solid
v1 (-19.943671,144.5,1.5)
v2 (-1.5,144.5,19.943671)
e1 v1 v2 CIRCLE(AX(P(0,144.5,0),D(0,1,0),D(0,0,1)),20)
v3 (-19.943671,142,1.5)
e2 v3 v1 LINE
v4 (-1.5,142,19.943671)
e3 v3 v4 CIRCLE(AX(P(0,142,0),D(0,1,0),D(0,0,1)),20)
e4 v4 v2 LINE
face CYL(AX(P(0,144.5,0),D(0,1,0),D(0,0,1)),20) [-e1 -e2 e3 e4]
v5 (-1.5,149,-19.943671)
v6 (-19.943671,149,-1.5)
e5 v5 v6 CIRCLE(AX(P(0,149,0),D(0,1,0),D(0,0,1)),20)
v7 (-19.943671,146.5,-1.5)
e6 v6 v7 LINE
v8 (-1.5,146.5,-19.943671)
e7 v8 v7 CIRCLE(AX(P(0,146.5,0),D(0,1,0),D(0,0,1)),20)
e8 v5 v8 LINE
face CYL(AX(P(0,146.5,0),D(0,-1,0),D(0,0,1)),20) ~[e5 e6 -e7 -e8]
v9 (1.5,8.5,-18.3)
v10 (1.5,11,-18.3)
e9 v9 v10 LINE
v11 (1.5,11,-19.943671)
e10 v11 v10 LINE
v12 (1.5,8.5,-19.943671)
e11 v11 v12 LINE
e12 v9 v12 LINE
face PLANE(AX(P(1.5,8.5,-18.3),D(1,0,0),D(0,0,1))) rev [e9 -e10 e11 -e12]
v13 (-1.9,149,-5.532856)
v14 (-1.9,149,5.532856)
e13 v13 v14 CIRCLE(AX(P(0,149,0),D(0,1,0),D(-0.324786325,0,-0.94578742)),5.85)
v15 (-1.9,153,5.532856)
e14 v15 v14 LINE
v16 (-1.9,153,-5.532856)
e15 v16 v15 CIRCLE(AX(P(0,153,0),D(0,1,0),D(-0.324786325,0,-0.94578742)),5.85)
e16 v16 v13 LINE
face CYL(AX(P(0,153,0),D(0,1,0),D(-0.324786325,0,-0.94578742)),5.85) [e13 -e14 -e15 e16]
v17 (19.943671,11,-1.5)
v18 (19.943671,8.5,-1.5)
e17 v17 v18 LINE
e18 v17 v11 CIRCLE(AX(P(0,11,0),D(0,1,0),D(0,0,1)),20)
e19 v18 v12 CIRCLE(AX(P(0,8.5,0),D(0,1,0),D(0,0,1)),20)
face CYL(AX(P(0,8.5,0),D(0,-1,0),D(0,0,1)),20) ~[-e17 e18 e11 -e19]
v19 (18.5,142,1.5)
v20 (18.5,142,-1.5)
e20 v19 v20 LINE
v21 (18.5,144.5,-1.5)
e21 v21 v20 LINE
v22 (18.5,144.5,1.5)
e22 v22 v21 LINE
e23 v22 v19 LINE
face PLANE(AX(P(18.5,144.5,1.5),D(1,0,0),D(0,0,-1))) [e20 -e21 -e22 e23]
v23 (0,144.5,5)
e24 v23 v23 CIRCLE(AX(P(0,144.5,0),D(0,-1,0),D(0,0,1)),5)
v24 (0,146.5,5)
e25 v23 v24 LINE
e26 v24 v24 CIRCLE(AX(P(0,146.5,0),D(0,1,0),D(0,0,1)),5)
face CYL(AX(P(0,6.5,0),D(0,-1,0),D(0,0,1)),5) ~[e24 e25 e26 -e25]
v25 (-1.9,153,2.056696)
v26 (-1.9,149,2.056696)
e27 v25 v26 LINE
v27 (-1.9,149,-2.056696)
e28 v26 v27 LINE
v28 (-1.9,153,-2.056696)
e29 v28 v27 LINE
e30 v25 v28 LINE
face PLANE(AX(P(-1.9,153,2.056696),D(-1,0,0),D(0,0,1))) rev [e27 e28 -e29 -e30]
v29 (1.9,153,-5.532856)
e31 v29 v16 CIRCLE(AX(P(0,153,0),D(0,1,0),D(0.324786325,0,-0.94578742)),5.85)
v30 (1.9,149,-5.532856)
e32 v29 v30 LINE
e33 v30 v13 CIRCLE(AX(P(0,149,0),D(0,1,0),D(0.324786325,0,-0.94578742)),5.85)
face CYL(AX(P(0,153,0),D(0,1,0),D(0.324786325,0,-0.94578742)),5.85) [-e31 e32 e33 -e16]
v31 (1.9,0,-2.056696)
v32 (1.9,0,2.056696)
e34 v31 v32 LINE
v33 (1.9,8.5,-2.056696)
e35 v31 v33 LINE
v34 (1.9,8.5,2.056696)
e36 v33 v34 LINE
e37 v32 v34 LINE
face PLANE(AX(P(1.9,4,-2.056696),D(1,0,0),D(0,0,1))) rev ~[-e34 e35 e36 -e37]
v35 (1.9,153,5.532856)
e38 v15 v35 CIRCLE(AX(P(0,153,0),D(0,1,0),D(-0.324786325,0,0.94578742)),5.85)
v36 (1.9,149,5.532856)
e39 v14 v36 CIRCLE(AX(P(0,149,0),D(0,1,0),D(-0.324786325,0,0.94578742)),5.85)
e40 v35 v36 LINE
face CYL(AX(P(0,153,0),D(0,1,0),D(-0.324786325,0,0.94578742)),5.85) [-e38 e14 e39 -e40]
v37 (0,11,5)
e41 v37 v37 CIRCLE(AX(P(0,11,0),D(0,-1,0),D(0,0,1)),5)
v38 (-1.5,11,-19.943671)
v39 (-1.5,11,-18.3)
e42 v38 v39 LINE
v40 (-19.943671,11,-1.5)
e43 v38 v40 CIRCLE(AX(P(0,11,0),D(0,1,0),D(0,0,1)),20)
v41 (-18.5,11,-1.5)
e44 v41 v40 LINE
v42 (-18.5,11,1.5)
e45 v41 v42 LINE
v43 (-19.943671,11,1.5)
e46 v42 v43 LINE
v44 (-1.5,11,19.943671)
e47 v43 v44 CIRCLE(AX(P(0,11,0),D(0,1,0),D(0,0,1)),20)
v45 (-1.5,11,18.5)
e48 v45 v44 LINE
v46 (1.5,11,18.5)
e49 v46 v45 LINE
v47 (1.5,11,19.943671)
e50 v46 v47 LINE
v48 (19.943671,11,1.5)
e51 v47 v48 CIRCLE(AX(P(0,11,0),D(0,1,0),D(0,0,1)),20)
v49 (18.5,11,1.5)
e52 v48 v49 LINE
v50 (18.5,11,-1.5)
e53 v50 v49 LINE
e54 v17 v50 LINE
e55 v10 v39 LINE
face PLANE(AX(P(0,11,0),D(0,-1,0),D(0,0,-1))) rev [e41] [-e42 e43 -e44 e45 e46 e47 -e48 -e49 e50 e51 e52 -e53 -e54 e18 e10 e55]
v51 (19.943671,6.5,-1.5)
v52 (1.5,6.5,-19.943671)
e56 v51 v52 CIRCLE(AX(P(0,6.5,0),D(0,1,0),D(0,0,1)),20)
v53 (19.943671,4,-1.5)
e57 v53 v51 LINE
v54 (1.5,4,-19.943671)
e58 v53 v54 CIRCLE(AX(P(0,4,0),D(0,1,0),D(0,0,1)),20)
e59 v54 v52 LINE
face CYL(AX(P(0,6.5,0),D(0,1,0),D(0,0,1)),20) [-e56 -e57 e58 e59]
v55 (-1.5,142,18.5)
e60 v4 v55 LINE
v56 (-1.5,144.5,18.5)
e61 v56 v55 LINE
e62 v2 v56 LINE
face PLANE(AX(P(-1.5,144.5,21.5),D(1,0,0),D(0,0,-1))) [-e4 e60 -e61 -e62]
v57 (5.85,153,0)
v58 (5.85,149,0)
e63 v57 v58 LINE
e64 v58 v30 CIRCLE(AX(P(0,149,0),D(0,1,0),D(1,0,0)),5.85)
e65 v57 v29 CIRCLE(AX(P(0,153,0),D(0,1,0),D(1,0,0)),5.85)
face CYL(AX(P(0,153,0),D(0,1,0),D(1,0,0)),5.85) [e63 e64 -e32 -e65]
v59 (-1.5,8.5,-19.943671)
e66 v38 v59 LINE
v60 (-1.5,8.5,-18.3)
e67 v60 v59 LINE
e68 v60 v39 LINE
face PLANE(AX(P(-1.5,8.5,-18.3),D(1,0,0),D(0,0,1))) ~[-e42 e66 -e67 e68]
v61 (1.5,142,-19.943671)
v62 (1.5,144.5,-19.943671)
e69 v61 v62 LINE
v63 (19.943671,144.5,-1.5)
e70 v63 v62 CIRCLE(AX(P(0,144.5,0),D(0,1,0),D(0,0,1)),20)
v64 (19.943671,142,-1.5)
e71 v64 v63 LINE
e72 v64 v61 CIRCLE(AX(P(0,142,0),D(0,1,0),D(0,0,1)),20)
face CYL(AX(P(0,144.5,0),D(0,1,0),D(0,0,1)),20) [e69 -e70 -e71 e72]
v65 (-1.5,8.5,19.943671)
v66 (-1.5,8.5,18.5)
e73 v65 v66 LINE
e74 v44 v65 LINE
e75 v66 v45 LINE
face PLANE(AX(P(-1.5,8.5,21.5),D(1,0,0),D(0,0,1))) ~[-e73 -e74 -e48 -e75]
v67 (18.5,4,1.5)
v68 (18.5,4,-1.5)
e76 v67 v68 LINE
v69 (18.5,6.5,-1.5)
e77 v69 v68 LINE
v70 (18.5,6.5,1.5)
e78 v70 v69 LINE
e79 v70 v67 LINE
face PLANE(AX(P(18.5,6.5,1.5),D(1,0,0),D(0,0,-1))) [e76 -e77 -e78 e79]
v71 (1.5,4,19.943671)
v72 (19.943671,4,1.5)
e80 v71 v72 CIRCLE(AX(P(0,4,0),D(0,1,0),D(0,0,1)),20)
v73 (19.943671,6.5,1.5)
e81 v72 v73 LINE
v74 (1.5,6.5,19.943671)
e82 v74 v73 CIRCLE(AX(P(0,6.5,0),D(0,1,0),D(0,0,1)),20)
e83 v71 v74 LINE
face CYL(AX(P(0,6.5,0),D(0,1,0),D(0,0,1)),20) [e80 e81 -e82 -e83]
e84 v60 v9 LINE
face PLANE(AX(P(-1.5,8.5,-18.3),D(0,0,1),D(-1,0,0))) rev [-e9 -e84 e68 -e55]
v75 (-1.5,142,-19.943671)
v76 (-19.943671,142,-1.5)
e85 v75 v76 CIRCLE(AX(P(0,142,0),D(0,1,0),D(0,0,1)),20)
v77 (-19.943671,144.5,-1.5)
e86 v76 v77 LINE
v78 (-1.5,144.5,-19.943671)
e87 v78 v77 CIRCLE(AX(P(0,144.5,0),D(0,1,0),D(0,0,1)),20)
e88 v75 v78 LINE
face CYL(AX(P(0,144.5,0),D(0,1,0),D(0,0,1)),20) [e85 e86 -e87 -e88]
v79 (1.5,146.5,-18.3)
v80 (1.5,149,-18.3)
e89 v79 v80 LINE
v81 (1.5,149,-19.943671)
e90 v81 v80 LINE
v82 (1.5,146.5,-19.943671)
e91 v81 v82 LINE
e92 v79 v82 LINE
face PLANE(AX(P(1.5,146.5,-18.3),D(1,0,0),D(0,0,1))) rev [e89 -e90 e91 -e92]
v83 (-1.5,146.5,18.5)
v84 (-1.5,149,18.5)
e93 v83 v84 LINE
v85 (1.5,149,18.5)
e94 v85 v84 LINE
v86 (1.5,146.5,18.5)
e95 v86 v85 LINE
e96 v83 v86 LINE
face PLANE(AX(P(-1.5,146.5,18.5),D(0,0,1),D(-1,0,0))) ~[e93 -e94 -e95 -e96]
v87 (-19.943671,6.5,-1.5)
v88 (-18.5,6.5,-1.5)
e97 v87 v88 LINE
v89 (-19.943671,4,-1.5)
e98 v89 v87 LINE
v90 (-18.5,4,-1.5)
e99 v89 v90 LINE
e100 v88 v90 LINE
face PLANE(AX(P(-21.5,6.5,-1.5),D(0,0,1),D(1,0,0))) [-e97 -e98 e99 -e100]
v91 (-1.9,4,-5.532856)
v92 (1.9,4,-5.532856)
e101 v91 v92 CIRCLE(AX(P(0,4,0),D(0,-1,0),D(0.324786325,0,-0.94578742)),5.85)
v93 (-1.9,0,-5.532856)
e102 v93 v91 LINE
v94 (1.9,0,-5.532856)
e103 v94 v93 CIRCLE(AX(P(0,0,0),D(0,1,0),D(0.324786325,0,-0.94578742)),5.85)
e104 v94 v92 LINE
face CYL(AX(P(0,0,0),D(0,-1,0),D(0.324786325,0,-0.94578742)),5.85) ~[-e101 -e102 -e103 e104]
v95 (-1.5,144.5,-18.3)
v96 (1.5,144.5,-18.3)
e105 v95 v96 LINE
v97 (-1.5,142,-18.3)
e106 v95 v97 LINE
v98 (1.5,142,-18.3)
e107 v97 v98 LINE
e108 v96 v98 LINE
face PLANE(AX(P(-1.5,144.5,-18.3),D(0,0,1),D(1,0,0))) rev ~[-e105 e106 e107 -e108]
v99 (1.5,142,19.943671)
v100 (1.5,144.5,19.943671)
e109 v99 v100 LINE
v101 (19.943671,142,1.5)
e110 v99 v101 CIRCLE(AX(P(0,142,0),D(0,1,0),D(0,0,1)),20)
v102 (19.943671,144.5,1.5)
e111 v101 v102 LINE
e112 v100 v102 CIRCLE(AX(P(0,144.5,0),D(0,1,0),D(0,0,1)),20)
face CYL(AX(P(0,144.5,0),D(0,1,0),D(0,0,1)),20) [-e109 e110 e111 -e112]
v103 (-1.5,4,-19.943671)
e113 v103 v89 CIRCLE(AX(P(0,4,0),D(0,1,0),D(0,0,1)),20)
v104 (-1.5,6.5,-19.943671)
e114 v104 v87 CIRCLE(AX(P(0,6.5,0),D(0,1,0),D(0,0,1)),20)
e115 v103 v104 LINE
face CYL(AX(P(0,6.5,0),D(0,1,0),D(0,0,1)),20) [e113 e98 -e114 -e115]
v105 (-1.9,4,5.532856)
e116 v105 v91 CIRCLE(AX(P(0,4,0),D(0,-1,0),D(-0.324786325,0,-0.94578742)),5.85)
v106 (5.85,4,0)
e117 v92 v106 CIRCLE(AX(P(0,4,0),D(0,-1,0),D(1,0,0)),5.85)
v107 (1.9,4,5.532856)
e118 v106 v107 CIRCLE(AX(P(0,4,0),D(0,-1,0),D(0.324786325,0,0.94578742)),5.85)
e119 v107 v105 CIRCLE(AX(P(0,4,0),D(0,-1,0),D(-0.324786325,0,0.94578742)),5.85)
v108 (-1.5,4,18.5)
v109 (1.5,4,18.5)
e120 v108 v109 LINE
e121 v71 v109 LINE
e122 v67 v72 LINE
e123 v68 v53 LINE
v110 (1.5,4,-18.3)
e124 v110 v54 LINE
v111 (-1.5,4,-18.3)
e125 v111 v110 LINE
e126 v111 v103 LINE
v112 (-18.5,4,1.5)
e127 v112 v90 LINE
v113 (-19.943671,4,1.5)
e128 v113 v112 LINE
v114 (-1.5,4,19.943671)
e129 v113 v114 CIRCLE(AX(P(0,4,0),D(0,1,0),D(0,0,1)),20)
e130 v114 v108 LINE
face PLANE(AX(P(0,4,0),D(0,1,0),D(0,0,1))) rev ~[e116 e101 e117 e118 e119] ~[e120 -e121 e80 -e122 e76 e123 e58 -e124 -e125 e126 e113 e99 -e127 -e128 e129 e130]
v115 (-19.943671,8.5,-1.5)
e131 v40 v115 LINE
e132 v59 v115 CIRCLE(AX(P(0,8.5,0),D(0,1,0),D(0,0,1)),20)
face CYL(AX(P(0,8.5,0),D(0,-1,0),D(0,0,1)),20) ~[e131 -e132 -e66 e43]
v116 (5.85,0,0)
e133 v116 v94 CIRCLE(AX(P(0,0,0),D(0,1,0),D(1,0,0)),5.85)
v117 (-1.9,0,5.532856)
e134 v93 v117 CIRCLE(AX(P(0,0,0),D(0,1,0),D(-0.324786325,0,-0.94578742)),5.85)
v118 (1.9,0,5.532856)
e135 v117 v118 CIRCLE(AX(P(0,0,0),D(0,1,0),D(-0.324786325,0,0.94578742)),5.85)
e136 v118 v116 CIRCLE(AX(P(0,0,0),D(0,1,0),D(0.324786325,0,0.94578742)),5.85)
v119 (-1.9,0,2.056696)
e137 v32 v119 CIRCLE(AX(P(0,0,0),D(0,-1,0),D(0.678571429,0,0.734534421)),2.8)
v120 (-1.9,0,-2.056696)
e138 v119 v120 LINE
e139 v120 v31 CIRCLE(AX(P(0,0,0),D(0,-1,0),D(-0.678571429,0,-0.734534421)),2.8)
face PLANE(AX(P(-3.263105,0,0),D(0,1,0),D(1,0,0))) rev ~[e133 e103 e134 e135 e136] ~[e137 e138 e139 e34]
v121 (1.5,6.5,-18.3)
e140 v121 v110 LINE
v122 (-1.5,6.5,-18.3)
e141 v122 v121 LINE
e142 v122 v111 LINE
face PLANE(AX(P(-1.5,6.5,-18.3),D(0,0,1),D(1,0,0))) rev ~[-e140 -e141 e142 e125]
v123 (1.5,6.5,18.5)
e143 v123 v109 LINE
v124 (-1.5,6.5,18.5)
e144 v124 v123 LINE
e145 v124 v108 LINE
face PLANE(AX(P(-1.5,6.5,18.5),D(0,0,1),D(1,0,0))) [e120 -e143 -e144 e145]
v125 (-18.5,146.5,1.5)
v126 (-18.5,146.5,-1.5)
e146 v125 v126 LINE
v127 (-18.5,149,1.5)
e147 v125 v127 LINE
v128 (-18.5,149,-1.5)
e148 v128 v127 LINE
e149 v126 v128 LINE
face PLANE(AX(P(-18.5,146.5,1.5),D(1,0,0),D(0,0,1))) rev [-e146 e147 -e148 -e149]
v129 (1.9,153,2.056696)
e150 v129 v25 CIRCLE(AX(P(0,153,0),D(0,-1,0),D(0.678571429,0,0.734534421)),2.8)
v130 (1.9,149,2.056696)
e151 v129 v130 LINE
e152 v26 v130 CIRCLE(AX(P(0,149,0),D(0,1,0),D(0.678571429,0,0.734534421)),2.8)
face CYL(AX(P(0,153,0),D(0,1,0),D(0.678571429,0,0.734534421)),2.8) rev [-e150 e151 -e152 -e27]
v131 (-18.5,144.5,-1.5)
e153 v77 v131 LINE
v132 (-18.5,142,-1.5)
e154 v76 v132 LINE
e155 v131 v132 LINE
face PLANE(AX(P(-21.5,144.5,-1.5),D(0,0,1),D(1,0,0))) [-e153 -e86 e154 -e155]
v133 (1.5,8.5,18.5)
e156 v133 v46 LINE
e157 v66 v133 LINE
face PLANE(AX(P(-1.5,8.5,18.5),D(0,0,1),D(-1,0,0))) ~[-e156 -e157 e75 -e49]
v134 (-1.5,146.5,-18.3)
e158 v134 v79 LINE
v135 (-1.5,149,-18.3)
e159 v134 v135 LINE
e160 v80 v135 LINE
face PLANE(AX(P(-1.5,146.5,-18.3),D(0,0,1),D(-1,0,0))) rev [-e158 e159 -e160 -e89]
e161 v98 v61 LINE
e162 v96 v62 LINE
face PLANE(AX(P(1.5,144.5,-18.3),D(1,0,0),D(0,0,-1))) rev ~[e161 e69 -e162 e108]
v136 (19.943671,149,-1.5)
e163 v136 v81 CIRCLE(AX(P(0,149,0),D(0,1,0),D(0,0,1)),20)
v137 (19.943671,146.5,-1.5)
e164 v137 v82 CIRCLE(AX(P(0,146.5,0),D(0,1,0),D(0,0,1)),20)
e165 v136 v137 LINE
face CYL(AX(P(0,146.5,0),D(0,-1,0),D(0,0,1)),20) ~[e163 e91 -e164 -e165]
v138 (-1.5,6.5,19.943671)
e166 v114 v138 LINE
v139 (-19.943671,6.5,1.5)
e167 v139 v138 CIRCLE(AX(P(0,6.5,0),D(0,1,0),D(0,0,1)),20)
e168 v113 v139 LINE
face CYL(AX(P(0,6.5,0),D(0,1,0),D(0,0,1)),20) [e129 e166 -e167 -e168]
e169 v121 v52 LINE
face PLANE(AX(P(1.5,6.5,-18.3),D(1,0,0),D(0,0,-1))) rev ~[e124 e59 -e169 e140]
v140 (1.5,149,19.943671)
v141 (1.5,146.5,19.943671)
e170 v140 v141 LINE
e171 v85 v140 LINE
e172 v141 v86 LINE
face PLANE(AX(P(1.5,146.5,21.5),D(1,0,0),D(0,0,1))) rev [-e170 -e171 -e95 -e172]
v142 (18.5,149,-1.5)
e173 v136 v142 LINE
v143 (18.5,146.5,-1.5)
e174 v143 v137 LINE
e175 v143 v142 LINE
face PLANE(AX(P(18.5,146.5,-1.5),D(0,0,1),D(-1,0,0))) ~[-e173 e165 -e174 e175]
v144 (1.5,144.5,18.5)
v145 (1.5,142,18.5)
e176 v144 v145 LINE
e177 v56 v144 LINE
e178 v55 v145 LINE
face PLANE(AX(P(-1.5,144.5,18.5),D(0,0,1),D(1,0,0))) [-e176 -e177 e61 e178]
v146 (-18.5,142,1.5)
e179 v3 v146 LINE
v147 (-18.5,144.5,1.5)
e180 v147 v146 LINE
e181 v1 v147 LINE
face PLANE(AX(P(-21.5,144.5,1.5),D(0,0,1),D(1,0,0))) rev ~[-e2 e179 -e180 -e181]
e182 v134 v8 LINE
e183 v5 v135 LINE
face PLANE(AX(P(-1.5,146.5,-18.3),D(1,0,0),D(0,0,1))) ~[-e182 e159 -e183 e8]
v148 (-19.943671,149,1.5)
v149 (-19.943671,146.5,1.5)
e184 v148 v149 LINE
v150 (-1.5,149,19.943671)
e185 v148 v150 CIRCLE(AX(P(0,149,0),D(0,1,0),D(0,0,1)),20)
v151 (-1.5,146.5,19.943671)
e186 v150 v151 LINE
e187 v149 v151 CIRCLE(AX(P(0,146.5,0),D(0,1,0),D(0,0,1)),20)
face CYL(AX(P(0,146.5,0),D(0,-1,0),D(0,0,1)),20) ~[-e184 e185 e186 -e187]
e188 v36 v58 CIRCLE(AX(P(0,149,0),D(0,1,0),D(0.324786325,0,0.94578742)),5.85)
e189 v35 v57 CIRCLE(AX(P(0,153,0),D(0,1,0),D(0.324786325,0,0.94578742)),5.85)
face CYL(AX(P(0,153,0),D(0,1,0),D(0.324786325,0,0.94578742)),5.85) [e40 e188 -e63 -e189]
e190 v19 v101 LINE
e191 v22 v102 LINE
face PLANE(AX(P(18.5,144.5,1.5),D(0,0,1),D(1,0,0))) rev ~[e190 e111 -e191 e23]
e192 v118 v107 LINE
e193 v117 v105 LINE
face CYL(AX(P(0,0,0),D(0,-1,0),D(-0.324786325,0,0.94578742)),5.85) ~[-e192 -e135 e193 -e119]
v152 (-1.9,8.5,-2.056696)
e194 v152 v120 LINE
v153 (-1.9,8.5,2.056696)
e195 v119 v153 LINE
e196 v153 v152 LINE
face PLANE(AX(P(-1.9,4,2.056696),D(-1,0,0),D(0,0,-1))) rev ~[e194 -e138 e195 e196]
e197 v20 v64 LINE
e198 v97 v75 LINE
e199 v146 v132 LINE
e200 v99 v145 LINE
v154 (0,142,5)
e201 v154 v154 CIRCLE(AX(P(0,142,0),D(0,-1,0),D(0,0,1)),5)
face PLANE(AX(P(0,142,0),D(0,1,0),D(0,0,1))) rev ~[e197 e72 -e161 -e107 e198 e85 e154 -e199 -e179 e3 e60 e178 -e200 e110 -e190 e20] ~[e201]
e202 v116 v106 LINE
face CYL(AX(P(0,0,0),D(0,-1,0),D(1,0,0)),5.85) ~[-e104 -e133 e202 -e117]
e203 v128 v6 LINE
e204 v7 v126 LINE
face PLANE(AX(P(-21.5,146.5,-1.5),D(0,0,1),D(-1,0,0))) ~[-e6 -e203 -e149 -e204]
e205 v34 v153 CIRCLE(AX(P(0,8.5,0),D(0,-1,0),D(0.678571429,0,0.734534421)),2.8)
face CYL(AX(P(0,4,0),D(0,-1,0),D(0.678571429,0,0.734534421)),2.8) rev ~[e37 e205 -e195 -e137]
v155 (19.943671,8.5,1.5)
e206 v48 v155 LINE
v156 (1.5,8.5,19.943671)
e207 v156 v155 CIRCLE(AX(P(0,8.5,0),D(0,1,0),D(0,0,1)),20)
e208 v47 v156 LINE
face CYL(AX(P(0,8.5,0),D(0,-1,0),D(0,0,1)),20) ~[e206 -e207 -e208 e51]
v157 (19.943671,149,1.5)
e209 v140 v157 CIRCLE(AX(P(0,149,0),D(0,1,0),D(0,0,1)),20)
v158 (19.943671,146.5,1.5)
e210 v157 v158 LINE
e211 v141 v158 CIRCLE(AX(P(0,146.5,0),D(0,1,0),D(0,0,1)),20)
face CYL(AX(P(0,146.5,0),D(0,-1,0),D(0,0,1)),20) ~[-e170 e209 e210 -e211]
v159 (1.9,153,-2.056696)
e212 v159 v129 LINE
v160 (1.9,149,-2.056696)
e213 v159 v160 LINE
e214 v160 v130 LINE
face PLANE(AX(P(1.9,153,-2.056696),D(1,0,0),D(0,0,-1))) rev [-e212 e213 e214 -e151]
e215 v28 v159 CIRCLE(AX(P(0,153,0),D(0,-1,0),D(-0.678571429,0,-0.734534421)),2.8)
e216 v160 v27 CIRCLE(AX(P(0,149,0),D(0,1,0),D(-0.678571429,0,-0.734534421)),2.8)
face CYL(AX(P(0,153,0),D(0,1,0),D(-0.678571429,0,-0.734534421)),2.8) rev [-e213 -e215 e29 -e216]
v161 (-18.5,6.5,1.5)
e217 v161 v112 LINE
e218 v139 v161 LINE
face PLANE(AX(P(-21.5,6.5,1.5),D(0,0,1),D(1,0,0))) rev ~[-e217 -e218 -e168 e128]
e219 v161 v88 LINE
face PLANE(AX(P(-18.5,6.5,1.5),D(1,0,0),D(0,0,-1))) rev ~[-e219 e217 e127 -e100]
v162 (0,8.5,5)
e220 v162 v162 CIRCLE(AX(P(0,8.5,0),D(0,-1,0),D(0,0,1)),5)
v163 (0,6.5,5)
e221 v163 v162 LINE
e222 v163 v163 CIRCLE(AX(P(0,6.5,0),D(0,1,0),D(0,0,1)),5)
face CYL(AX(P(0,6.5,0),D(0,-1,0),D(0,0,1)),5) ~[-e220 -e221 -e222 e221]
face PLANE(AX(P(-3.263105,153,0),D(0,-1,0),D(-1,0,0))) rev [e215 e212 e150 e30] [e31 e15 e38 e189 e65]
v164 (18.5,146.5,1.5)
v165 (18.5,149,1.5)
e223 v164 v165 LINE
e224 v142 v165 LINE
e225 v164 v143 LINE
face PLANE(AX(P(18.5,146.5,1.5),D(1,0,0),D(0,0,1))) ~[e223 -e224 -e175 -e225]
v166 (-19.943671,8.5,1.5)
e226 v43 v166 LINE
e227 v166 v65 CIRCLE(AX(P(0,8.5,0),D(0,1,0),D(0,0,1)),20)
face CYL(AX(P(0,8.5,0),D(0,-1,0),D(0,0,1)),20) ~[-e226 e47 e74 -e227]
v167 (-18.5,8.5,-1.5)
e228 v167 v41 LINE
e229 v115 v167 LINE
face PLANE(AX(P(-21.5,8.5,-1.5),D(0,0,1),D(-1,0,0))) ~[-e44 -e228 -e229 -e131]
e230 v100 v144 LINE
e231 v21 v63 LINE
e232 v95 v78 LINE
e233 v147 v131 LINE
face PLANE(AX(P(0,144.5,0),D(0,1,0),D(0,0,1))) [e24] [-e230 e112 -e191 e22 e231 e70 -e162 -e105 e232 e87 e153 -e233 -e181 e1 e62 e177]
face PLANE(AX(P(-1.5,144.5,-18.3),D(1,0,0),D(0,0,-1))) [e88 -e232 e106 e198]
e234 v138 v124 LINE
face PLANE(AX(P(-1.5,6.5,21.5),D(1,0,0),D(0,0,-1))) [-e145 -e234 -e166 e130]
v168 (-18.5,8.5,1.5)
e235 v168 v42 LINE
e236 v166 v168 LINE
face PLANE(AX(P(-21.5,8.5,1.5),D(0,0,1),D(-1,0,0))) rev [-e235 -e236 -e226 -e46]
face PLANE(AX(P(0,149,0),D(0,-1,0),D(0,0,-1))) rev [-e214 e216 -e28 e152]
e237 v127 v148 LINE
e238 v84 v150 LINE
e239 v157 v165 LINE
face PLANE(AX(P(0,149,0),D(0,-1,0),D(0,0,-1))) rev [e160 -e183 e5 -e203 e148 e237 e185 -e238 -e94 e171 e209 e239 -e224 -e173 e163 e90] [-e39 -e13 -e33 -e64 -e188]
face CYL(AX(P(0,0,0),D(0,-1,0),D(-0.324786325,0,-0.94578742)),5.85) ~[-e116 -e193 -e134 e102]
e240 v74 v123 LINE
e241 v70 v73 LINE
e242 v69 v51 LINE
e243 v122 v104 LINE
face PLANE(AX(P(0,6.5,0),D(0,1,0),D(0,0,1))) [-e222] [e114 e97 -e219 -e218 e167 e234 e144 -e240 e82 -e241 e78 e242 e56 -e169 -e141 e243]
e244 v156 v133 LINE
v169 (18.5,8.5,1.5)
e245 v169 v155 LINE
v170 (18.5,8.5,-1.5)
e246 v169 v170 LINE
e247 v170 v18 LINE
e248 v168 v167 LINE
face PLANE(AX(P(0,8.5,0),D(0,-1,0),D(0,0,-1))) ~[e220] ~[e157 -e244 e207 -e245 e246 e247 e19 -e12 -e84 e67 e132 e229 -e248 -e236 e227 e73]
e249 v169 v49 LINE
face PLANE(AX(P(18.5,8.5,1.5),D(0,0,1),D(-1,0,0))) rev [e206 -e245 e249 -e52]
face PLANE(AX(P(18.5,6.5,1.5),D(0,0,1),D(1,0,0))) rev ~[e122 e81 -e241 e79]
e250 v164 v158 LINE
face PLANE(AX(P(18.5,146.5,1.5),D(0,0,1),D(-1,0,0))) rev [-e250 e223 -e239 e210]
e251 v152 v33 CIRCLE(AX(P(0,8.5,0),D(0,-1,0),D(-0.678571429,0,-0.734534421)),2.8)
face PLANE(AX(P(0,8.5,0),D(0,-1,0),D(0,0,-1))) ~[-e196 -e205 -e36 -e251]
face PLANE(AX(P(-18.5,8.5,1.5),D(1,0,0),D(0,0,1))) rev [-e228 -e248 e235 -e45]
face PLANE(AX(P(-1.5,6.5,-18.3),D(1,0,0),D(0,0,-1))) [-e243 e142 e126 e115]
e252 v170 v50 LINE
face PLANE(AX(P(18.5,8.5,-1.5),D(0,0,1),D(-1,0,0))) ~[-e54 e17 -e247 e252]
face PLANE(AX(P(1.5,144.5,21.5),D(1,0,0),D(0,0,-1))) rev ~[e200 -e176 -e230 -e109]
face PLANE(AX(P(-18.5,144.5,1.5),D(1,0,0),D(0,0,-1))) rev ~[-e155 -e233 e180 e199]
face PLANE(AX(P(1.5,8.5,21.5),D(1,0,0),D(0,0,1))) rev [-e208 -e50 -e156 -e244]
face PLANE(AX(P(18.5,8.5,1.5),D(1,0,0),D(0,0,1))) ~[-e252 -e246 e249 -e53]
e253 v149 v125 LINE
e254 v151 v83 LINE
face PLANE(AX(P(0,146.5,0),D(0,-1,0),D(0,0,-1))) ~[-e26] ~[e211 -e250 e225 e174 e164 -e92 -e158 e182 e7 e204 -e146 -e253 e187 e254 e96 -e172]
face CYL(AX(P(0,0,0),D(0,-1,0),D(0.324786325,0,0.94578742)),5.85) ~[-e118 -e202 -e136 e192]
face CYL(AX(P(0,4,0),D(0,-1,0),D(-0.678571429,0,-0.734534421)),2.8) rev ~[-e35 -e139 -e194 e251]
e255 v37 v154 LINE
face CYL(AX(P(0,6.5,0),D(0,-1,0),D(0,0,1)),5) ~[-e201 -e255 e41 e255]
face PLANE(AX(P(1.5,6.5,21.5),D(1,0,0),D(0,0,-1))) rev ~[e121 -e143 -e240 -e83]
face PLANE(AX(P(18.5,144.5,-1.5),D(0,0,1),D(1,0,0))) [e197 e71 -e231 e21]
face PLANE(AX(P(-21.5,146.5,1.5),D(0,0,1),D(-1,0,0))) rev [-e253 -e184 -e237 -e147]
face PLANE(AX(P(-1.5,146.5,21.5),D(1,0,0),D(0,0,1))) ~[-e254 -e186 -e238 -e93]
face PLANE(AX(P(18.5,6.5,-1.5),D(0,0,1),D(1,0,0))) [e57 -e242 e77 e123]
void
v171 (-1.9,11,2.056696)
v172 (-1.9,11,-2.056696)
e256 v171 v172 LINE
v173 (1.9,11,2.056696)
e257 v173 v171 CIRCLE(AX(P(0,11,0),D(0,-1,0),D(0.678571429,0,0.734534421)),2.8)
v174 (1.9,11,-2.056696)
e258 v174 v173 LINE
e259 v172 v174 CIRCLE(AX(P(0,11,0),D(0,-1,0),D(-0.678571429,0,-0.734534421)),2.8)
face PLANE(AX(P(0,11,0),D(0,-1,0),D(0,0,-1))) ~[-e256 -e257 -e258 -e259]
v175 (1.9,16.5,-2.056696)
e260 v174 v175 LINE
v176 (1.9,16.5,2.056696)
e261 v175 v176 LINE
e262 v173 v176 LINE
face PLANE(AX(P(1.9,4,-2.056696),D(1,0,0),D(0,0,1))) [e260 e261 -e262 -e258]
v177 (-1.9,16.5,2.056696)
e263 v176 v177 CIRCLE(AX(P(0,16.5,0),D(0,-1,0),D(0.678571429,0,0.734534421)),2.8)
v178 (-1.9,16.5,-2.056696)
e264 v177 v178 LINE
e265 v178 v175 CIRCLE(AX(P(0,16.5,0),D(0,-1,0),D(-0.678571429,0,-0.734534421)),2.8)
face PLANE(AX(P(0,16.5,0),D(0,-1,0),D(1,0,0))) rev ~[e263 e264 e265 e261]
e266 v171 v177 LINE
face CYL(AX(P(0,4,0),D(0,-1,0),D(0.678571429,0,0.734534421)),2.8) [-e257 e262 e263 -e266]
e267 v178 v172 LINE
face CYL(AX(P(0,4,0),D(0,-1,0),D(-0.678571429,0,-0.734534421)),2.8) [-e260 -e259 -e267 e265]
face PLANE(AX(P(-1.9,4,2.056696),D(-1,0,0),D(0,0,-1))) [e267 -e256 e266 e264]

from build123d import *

# Parameters (mm, degrees)
BOSS_EXTRUDE1_DEPTH     = 6.5
SKETCH2_R               = 20
BOSS_EXTRUDE2_DEPTH     = 2.5
CUT_EXTRUDE1_DEPTH      = 8
SKETCH4_W               = 3
SKETCH4_H               = 3
CUT_EXTRUDE2_DEPTH      = 10
SKETCH5_R               = 5
BOSS_EXTRUDE3_DEPTH     = 140
CUT_EXTRUDE3_DEPTH      = 10
MIRROR5_COPY_1_SKETCH_R = 20
MIRROR5_COPY_1_DEPTH    = 2.5
MIRROR5_COPY_2_SKETCH_W = 3
MIRROR5_COPY_2_SKETCH_H = 3
MIRROR5_COPY_2_DEPTH    = 10


with BuildPart() as part:
    # Sketch1 → Boss-Extrude1 (new body)
    with BuildSketch(Plane(origin=(0, 0, 0), x_dir=(1, 0, 0), z_dir=(0, 1, 0))):
        with BuildLine():
            ThreePointArc((-1.9, -2.05669638), (-2.8, 0), (-1.9, 2.05669638))
            Line((-1.9, 2.05669638), (-1.9, 5.532856405))
            ThreePointArc((-1.9, 5.532856405), (-5.85, 0), (-1.9, -5.532856405))
            Line((-1.9, -5.532856405), (-1.9, -2.05669638))
        make_face()
        with BuildLine():
            ThreePointArc((-1.9, 2.05669638), (0, 2.8), (1.9, 2.05669638))
            Line((1.9, 2.05669638), (1.9, 5.532856405))
            ThreePointArc((1.9, 5.532856405), (0, 5.85), (-1.9, 5.532856405))
            Line((-1.9, 5.532856405), (-1.9, 2.05669638))
        make_face()
        with BuildLine():
            Line((1.9, 5.532856405), (1.9, 2.05669638))
            ThreePointArc((1.9, 2.05669638), (2.565151068, 1.122497216), (2.8, 0))
            ThreePointArc((2.8, 0), (2.565151068, -1.122497216), (1.9, -2.05669638))
            Line((1.9, -2.05669638), (1.9, -5.532856405))
            ThreePointArc((1.9, -5.532856405), (4.761171074, -3.399080758), (5.85, 0))
            ThreePointArc((5.85, 0), (4.761171074, 3.399080758), (1.9, 5.532856405))
        make_face()
        with BuildLine():
            Line((1.9, -5.532856405), (1.9, -2.05669638))
            ThreePointArc((1.9, -2.05669638), (0, -2.8), (-1.9, -2.05669638))
            Line((-1.9, -2.05669638), (-1.9, -5.532856405))
            ThreePointArc((-1.9, -5.532856405), (0, -5.85), (1.9, -5.532856405))
        make_face()
        with BuildLine():
            Line((-1.9, -2.05669638), (-1.9, 2.05669638))
            ThreePointArc((-1.9, 2.05669638), (-2.8, 0), (-1.9, -2.05669638))
        make_face()
        with BuildLine():
            ThreePointArc((2.8, 0), (2.565151068, 1.122497216), (1.9, 2.05669638))
            Line((1.9, 2.05669638), (1.9, -2.05669638))
            ThreePointArc((1.9, -2.05669638), (2.565151068, -1.122497216), (2.8, 0))
        make_face()
    boss_extrude1 = extrude(amount=BOSS_EXTRUDE1_DEPTH)

    # Sketch2 → Boss-Extrude2 (add)
    with BuildSketch(Plane(origin=(0, 6.5, 0), x_dir=(1, 0, 0), z_dir=(0, 1, 0))):
        with Locations(Location((0, 0, 0), (0, 0, 270))):
            Circle(SKETCH2_R)
    boss_extrude2 = extrude(amount=-BOSS_EXTRUDE2_DEPTH)

    # Sketch3 → Cut-Extrude1 (cut)
    with BuildSketch(Plane.XZ.offset(-4)):
        with BuildLine():
            Line((-1.9, 2.05669638), (-1.9, -2.05669638))
            ThreePointArc((-1.9, -2.05669638), (0, -2.8), (1.9, -2.05669638))
            Line((1.9, -2.05669638), (1.9, 2.05669638))
            ThreePointArc((1.9, 2.05669638), (0, 2.8), (-1.9, 2.05669638))
        make_face()
    extrude(amount=-CUT_EXTRUDE1_DEPTH, mode=Mode.SUBTRACT)

    # Sketch4 → Cut-Extrude2 (cut)
    with BuildSketch(Plane(origin=(0, 6.5, 0), x_dir=(1, 0, 0), z_dir=(0, 1, 0))):
        with Locations((0, 19.8)):
            Rectangle(SKETCH4_W, SKETCH4_H)
        with Locations((20, 0)):
            Rectangle(SKETCH4_W, SKETCH4_H)
        with Locations((0, -20)):
            Rectangle(SKETCH4_W, SKETCH4_H)
        with Locations((-20, 0)):
            Rectangle(SKETCH4_W, SKETCH4_H)
    cut_extrude2 = extrude(amount=-CUT_EXTRUDE2_DEPTH, mode=Mode.SUBTRACT)

    # Sketch5 → Boss-Extrude3 (add)
    with BuildSketch(Plane(origin=(0, 6.5, 0), x_dir=(1, 0, 0), z_dir=(0, 1, 0))):
        with Locations(Location((0, 0, 0), (0, 0, 270))):
            Circle(SKETCH5_R)
    extrude(amount=BOSS_EXTRUDE3_DEPTH)

    # Mirror1: Boss-Extrude2, Cut-Extrude2 across plane
    add(boss_extrude2.mirror(Plane.ZX.offset(76.5)))
    add(cut_extrude2.mirror(Plane.ZX.offset(76.5)), mode=Mode.SUBTRACT)

    # Mirror2: Boss-Extrude1 across plane
    add(boss_extrude1.mirror(Plane.ZX.offset(76.5)))

    # Sketch6 → Cut-Extrude3 (cut)
    with BuildSketch(Plane.XZ.offset(-6.5)):
        with BuildLine():
            Line((-1.9, 2.05669638), (-1.9, -2.05669638))
            ThreePointArc((-1.9, -2.05669638), (0, -2.8), (1.9, -2.05669638))
            Line((1.9, -2.05669638), (1.9, 2.05669638))
            ThreePointArc((1.9, 2.05669638), (0, 2.8), (-1.9, 2.05669638))
        make_face()
    extrude(amount=-CUT_EXTRUDE3_DEPTH, mode=Mode.SUBTRACT)

    # Mirror3: Boss-Extrude2, Cut-Extrude2 across plane
    add(boss_extrude2.mirror(Plane.ZX.offset(7.5)))
    add(cut_extrude2.mirror(Plane.ZX.offset(7.5)), mode=Mode.SUBTRACT)

    # Mirror5 copy 1 sketch → Mirror5 copy 1 (add)
    with BuildSketch(Plane(origin=(0, 144.5, 0), x_dir=(1, 0, 0), z_dir=(0, 1, 0))):
        with Locations(Location((0, 0, 0), (0, 0, 270))):
            Circle(MIRROR5_COPY_1_SKETCH_R)
    extrude(amount=-MIRROR5_COPY_1_DEPTH)

    # Mirror5 copy 2 sketch → Mirror5 copy 2 (cut)
    with BuildSketch(Plane(origin=(0, 144.5, 0), x_dir=(1, 0, 0), z_dir=(0, 1, 0))):
        with Locations((0, 19.8)):
            Rectangle(MIRROR5_COPY_2_SKETCH_W, MIRROR5_COPY_2_SKETCH_H)
        with Locations((20, 0)):
            Rectangle(MIRROR5_COPY_2_SKETCH_W, MIRROR5_COPY_2_SKETCH_H)
        with Locations((0, -20)):
            Rectangle(MIRROR5_COPY_2_SKETCH_W, MIRROR5_COPY_2_SKETCH_H)
        with Locations((-20, 0)):
            Rectangle(MIRROR5_COPY_2_SKETCH_W, MIRROR5_COPY_2_SKETCH_H)
    extrude(amount=-MIRROR5_COPY_2_DEPTH, mode=Mode.SUBTRACT)


solid = part.part
